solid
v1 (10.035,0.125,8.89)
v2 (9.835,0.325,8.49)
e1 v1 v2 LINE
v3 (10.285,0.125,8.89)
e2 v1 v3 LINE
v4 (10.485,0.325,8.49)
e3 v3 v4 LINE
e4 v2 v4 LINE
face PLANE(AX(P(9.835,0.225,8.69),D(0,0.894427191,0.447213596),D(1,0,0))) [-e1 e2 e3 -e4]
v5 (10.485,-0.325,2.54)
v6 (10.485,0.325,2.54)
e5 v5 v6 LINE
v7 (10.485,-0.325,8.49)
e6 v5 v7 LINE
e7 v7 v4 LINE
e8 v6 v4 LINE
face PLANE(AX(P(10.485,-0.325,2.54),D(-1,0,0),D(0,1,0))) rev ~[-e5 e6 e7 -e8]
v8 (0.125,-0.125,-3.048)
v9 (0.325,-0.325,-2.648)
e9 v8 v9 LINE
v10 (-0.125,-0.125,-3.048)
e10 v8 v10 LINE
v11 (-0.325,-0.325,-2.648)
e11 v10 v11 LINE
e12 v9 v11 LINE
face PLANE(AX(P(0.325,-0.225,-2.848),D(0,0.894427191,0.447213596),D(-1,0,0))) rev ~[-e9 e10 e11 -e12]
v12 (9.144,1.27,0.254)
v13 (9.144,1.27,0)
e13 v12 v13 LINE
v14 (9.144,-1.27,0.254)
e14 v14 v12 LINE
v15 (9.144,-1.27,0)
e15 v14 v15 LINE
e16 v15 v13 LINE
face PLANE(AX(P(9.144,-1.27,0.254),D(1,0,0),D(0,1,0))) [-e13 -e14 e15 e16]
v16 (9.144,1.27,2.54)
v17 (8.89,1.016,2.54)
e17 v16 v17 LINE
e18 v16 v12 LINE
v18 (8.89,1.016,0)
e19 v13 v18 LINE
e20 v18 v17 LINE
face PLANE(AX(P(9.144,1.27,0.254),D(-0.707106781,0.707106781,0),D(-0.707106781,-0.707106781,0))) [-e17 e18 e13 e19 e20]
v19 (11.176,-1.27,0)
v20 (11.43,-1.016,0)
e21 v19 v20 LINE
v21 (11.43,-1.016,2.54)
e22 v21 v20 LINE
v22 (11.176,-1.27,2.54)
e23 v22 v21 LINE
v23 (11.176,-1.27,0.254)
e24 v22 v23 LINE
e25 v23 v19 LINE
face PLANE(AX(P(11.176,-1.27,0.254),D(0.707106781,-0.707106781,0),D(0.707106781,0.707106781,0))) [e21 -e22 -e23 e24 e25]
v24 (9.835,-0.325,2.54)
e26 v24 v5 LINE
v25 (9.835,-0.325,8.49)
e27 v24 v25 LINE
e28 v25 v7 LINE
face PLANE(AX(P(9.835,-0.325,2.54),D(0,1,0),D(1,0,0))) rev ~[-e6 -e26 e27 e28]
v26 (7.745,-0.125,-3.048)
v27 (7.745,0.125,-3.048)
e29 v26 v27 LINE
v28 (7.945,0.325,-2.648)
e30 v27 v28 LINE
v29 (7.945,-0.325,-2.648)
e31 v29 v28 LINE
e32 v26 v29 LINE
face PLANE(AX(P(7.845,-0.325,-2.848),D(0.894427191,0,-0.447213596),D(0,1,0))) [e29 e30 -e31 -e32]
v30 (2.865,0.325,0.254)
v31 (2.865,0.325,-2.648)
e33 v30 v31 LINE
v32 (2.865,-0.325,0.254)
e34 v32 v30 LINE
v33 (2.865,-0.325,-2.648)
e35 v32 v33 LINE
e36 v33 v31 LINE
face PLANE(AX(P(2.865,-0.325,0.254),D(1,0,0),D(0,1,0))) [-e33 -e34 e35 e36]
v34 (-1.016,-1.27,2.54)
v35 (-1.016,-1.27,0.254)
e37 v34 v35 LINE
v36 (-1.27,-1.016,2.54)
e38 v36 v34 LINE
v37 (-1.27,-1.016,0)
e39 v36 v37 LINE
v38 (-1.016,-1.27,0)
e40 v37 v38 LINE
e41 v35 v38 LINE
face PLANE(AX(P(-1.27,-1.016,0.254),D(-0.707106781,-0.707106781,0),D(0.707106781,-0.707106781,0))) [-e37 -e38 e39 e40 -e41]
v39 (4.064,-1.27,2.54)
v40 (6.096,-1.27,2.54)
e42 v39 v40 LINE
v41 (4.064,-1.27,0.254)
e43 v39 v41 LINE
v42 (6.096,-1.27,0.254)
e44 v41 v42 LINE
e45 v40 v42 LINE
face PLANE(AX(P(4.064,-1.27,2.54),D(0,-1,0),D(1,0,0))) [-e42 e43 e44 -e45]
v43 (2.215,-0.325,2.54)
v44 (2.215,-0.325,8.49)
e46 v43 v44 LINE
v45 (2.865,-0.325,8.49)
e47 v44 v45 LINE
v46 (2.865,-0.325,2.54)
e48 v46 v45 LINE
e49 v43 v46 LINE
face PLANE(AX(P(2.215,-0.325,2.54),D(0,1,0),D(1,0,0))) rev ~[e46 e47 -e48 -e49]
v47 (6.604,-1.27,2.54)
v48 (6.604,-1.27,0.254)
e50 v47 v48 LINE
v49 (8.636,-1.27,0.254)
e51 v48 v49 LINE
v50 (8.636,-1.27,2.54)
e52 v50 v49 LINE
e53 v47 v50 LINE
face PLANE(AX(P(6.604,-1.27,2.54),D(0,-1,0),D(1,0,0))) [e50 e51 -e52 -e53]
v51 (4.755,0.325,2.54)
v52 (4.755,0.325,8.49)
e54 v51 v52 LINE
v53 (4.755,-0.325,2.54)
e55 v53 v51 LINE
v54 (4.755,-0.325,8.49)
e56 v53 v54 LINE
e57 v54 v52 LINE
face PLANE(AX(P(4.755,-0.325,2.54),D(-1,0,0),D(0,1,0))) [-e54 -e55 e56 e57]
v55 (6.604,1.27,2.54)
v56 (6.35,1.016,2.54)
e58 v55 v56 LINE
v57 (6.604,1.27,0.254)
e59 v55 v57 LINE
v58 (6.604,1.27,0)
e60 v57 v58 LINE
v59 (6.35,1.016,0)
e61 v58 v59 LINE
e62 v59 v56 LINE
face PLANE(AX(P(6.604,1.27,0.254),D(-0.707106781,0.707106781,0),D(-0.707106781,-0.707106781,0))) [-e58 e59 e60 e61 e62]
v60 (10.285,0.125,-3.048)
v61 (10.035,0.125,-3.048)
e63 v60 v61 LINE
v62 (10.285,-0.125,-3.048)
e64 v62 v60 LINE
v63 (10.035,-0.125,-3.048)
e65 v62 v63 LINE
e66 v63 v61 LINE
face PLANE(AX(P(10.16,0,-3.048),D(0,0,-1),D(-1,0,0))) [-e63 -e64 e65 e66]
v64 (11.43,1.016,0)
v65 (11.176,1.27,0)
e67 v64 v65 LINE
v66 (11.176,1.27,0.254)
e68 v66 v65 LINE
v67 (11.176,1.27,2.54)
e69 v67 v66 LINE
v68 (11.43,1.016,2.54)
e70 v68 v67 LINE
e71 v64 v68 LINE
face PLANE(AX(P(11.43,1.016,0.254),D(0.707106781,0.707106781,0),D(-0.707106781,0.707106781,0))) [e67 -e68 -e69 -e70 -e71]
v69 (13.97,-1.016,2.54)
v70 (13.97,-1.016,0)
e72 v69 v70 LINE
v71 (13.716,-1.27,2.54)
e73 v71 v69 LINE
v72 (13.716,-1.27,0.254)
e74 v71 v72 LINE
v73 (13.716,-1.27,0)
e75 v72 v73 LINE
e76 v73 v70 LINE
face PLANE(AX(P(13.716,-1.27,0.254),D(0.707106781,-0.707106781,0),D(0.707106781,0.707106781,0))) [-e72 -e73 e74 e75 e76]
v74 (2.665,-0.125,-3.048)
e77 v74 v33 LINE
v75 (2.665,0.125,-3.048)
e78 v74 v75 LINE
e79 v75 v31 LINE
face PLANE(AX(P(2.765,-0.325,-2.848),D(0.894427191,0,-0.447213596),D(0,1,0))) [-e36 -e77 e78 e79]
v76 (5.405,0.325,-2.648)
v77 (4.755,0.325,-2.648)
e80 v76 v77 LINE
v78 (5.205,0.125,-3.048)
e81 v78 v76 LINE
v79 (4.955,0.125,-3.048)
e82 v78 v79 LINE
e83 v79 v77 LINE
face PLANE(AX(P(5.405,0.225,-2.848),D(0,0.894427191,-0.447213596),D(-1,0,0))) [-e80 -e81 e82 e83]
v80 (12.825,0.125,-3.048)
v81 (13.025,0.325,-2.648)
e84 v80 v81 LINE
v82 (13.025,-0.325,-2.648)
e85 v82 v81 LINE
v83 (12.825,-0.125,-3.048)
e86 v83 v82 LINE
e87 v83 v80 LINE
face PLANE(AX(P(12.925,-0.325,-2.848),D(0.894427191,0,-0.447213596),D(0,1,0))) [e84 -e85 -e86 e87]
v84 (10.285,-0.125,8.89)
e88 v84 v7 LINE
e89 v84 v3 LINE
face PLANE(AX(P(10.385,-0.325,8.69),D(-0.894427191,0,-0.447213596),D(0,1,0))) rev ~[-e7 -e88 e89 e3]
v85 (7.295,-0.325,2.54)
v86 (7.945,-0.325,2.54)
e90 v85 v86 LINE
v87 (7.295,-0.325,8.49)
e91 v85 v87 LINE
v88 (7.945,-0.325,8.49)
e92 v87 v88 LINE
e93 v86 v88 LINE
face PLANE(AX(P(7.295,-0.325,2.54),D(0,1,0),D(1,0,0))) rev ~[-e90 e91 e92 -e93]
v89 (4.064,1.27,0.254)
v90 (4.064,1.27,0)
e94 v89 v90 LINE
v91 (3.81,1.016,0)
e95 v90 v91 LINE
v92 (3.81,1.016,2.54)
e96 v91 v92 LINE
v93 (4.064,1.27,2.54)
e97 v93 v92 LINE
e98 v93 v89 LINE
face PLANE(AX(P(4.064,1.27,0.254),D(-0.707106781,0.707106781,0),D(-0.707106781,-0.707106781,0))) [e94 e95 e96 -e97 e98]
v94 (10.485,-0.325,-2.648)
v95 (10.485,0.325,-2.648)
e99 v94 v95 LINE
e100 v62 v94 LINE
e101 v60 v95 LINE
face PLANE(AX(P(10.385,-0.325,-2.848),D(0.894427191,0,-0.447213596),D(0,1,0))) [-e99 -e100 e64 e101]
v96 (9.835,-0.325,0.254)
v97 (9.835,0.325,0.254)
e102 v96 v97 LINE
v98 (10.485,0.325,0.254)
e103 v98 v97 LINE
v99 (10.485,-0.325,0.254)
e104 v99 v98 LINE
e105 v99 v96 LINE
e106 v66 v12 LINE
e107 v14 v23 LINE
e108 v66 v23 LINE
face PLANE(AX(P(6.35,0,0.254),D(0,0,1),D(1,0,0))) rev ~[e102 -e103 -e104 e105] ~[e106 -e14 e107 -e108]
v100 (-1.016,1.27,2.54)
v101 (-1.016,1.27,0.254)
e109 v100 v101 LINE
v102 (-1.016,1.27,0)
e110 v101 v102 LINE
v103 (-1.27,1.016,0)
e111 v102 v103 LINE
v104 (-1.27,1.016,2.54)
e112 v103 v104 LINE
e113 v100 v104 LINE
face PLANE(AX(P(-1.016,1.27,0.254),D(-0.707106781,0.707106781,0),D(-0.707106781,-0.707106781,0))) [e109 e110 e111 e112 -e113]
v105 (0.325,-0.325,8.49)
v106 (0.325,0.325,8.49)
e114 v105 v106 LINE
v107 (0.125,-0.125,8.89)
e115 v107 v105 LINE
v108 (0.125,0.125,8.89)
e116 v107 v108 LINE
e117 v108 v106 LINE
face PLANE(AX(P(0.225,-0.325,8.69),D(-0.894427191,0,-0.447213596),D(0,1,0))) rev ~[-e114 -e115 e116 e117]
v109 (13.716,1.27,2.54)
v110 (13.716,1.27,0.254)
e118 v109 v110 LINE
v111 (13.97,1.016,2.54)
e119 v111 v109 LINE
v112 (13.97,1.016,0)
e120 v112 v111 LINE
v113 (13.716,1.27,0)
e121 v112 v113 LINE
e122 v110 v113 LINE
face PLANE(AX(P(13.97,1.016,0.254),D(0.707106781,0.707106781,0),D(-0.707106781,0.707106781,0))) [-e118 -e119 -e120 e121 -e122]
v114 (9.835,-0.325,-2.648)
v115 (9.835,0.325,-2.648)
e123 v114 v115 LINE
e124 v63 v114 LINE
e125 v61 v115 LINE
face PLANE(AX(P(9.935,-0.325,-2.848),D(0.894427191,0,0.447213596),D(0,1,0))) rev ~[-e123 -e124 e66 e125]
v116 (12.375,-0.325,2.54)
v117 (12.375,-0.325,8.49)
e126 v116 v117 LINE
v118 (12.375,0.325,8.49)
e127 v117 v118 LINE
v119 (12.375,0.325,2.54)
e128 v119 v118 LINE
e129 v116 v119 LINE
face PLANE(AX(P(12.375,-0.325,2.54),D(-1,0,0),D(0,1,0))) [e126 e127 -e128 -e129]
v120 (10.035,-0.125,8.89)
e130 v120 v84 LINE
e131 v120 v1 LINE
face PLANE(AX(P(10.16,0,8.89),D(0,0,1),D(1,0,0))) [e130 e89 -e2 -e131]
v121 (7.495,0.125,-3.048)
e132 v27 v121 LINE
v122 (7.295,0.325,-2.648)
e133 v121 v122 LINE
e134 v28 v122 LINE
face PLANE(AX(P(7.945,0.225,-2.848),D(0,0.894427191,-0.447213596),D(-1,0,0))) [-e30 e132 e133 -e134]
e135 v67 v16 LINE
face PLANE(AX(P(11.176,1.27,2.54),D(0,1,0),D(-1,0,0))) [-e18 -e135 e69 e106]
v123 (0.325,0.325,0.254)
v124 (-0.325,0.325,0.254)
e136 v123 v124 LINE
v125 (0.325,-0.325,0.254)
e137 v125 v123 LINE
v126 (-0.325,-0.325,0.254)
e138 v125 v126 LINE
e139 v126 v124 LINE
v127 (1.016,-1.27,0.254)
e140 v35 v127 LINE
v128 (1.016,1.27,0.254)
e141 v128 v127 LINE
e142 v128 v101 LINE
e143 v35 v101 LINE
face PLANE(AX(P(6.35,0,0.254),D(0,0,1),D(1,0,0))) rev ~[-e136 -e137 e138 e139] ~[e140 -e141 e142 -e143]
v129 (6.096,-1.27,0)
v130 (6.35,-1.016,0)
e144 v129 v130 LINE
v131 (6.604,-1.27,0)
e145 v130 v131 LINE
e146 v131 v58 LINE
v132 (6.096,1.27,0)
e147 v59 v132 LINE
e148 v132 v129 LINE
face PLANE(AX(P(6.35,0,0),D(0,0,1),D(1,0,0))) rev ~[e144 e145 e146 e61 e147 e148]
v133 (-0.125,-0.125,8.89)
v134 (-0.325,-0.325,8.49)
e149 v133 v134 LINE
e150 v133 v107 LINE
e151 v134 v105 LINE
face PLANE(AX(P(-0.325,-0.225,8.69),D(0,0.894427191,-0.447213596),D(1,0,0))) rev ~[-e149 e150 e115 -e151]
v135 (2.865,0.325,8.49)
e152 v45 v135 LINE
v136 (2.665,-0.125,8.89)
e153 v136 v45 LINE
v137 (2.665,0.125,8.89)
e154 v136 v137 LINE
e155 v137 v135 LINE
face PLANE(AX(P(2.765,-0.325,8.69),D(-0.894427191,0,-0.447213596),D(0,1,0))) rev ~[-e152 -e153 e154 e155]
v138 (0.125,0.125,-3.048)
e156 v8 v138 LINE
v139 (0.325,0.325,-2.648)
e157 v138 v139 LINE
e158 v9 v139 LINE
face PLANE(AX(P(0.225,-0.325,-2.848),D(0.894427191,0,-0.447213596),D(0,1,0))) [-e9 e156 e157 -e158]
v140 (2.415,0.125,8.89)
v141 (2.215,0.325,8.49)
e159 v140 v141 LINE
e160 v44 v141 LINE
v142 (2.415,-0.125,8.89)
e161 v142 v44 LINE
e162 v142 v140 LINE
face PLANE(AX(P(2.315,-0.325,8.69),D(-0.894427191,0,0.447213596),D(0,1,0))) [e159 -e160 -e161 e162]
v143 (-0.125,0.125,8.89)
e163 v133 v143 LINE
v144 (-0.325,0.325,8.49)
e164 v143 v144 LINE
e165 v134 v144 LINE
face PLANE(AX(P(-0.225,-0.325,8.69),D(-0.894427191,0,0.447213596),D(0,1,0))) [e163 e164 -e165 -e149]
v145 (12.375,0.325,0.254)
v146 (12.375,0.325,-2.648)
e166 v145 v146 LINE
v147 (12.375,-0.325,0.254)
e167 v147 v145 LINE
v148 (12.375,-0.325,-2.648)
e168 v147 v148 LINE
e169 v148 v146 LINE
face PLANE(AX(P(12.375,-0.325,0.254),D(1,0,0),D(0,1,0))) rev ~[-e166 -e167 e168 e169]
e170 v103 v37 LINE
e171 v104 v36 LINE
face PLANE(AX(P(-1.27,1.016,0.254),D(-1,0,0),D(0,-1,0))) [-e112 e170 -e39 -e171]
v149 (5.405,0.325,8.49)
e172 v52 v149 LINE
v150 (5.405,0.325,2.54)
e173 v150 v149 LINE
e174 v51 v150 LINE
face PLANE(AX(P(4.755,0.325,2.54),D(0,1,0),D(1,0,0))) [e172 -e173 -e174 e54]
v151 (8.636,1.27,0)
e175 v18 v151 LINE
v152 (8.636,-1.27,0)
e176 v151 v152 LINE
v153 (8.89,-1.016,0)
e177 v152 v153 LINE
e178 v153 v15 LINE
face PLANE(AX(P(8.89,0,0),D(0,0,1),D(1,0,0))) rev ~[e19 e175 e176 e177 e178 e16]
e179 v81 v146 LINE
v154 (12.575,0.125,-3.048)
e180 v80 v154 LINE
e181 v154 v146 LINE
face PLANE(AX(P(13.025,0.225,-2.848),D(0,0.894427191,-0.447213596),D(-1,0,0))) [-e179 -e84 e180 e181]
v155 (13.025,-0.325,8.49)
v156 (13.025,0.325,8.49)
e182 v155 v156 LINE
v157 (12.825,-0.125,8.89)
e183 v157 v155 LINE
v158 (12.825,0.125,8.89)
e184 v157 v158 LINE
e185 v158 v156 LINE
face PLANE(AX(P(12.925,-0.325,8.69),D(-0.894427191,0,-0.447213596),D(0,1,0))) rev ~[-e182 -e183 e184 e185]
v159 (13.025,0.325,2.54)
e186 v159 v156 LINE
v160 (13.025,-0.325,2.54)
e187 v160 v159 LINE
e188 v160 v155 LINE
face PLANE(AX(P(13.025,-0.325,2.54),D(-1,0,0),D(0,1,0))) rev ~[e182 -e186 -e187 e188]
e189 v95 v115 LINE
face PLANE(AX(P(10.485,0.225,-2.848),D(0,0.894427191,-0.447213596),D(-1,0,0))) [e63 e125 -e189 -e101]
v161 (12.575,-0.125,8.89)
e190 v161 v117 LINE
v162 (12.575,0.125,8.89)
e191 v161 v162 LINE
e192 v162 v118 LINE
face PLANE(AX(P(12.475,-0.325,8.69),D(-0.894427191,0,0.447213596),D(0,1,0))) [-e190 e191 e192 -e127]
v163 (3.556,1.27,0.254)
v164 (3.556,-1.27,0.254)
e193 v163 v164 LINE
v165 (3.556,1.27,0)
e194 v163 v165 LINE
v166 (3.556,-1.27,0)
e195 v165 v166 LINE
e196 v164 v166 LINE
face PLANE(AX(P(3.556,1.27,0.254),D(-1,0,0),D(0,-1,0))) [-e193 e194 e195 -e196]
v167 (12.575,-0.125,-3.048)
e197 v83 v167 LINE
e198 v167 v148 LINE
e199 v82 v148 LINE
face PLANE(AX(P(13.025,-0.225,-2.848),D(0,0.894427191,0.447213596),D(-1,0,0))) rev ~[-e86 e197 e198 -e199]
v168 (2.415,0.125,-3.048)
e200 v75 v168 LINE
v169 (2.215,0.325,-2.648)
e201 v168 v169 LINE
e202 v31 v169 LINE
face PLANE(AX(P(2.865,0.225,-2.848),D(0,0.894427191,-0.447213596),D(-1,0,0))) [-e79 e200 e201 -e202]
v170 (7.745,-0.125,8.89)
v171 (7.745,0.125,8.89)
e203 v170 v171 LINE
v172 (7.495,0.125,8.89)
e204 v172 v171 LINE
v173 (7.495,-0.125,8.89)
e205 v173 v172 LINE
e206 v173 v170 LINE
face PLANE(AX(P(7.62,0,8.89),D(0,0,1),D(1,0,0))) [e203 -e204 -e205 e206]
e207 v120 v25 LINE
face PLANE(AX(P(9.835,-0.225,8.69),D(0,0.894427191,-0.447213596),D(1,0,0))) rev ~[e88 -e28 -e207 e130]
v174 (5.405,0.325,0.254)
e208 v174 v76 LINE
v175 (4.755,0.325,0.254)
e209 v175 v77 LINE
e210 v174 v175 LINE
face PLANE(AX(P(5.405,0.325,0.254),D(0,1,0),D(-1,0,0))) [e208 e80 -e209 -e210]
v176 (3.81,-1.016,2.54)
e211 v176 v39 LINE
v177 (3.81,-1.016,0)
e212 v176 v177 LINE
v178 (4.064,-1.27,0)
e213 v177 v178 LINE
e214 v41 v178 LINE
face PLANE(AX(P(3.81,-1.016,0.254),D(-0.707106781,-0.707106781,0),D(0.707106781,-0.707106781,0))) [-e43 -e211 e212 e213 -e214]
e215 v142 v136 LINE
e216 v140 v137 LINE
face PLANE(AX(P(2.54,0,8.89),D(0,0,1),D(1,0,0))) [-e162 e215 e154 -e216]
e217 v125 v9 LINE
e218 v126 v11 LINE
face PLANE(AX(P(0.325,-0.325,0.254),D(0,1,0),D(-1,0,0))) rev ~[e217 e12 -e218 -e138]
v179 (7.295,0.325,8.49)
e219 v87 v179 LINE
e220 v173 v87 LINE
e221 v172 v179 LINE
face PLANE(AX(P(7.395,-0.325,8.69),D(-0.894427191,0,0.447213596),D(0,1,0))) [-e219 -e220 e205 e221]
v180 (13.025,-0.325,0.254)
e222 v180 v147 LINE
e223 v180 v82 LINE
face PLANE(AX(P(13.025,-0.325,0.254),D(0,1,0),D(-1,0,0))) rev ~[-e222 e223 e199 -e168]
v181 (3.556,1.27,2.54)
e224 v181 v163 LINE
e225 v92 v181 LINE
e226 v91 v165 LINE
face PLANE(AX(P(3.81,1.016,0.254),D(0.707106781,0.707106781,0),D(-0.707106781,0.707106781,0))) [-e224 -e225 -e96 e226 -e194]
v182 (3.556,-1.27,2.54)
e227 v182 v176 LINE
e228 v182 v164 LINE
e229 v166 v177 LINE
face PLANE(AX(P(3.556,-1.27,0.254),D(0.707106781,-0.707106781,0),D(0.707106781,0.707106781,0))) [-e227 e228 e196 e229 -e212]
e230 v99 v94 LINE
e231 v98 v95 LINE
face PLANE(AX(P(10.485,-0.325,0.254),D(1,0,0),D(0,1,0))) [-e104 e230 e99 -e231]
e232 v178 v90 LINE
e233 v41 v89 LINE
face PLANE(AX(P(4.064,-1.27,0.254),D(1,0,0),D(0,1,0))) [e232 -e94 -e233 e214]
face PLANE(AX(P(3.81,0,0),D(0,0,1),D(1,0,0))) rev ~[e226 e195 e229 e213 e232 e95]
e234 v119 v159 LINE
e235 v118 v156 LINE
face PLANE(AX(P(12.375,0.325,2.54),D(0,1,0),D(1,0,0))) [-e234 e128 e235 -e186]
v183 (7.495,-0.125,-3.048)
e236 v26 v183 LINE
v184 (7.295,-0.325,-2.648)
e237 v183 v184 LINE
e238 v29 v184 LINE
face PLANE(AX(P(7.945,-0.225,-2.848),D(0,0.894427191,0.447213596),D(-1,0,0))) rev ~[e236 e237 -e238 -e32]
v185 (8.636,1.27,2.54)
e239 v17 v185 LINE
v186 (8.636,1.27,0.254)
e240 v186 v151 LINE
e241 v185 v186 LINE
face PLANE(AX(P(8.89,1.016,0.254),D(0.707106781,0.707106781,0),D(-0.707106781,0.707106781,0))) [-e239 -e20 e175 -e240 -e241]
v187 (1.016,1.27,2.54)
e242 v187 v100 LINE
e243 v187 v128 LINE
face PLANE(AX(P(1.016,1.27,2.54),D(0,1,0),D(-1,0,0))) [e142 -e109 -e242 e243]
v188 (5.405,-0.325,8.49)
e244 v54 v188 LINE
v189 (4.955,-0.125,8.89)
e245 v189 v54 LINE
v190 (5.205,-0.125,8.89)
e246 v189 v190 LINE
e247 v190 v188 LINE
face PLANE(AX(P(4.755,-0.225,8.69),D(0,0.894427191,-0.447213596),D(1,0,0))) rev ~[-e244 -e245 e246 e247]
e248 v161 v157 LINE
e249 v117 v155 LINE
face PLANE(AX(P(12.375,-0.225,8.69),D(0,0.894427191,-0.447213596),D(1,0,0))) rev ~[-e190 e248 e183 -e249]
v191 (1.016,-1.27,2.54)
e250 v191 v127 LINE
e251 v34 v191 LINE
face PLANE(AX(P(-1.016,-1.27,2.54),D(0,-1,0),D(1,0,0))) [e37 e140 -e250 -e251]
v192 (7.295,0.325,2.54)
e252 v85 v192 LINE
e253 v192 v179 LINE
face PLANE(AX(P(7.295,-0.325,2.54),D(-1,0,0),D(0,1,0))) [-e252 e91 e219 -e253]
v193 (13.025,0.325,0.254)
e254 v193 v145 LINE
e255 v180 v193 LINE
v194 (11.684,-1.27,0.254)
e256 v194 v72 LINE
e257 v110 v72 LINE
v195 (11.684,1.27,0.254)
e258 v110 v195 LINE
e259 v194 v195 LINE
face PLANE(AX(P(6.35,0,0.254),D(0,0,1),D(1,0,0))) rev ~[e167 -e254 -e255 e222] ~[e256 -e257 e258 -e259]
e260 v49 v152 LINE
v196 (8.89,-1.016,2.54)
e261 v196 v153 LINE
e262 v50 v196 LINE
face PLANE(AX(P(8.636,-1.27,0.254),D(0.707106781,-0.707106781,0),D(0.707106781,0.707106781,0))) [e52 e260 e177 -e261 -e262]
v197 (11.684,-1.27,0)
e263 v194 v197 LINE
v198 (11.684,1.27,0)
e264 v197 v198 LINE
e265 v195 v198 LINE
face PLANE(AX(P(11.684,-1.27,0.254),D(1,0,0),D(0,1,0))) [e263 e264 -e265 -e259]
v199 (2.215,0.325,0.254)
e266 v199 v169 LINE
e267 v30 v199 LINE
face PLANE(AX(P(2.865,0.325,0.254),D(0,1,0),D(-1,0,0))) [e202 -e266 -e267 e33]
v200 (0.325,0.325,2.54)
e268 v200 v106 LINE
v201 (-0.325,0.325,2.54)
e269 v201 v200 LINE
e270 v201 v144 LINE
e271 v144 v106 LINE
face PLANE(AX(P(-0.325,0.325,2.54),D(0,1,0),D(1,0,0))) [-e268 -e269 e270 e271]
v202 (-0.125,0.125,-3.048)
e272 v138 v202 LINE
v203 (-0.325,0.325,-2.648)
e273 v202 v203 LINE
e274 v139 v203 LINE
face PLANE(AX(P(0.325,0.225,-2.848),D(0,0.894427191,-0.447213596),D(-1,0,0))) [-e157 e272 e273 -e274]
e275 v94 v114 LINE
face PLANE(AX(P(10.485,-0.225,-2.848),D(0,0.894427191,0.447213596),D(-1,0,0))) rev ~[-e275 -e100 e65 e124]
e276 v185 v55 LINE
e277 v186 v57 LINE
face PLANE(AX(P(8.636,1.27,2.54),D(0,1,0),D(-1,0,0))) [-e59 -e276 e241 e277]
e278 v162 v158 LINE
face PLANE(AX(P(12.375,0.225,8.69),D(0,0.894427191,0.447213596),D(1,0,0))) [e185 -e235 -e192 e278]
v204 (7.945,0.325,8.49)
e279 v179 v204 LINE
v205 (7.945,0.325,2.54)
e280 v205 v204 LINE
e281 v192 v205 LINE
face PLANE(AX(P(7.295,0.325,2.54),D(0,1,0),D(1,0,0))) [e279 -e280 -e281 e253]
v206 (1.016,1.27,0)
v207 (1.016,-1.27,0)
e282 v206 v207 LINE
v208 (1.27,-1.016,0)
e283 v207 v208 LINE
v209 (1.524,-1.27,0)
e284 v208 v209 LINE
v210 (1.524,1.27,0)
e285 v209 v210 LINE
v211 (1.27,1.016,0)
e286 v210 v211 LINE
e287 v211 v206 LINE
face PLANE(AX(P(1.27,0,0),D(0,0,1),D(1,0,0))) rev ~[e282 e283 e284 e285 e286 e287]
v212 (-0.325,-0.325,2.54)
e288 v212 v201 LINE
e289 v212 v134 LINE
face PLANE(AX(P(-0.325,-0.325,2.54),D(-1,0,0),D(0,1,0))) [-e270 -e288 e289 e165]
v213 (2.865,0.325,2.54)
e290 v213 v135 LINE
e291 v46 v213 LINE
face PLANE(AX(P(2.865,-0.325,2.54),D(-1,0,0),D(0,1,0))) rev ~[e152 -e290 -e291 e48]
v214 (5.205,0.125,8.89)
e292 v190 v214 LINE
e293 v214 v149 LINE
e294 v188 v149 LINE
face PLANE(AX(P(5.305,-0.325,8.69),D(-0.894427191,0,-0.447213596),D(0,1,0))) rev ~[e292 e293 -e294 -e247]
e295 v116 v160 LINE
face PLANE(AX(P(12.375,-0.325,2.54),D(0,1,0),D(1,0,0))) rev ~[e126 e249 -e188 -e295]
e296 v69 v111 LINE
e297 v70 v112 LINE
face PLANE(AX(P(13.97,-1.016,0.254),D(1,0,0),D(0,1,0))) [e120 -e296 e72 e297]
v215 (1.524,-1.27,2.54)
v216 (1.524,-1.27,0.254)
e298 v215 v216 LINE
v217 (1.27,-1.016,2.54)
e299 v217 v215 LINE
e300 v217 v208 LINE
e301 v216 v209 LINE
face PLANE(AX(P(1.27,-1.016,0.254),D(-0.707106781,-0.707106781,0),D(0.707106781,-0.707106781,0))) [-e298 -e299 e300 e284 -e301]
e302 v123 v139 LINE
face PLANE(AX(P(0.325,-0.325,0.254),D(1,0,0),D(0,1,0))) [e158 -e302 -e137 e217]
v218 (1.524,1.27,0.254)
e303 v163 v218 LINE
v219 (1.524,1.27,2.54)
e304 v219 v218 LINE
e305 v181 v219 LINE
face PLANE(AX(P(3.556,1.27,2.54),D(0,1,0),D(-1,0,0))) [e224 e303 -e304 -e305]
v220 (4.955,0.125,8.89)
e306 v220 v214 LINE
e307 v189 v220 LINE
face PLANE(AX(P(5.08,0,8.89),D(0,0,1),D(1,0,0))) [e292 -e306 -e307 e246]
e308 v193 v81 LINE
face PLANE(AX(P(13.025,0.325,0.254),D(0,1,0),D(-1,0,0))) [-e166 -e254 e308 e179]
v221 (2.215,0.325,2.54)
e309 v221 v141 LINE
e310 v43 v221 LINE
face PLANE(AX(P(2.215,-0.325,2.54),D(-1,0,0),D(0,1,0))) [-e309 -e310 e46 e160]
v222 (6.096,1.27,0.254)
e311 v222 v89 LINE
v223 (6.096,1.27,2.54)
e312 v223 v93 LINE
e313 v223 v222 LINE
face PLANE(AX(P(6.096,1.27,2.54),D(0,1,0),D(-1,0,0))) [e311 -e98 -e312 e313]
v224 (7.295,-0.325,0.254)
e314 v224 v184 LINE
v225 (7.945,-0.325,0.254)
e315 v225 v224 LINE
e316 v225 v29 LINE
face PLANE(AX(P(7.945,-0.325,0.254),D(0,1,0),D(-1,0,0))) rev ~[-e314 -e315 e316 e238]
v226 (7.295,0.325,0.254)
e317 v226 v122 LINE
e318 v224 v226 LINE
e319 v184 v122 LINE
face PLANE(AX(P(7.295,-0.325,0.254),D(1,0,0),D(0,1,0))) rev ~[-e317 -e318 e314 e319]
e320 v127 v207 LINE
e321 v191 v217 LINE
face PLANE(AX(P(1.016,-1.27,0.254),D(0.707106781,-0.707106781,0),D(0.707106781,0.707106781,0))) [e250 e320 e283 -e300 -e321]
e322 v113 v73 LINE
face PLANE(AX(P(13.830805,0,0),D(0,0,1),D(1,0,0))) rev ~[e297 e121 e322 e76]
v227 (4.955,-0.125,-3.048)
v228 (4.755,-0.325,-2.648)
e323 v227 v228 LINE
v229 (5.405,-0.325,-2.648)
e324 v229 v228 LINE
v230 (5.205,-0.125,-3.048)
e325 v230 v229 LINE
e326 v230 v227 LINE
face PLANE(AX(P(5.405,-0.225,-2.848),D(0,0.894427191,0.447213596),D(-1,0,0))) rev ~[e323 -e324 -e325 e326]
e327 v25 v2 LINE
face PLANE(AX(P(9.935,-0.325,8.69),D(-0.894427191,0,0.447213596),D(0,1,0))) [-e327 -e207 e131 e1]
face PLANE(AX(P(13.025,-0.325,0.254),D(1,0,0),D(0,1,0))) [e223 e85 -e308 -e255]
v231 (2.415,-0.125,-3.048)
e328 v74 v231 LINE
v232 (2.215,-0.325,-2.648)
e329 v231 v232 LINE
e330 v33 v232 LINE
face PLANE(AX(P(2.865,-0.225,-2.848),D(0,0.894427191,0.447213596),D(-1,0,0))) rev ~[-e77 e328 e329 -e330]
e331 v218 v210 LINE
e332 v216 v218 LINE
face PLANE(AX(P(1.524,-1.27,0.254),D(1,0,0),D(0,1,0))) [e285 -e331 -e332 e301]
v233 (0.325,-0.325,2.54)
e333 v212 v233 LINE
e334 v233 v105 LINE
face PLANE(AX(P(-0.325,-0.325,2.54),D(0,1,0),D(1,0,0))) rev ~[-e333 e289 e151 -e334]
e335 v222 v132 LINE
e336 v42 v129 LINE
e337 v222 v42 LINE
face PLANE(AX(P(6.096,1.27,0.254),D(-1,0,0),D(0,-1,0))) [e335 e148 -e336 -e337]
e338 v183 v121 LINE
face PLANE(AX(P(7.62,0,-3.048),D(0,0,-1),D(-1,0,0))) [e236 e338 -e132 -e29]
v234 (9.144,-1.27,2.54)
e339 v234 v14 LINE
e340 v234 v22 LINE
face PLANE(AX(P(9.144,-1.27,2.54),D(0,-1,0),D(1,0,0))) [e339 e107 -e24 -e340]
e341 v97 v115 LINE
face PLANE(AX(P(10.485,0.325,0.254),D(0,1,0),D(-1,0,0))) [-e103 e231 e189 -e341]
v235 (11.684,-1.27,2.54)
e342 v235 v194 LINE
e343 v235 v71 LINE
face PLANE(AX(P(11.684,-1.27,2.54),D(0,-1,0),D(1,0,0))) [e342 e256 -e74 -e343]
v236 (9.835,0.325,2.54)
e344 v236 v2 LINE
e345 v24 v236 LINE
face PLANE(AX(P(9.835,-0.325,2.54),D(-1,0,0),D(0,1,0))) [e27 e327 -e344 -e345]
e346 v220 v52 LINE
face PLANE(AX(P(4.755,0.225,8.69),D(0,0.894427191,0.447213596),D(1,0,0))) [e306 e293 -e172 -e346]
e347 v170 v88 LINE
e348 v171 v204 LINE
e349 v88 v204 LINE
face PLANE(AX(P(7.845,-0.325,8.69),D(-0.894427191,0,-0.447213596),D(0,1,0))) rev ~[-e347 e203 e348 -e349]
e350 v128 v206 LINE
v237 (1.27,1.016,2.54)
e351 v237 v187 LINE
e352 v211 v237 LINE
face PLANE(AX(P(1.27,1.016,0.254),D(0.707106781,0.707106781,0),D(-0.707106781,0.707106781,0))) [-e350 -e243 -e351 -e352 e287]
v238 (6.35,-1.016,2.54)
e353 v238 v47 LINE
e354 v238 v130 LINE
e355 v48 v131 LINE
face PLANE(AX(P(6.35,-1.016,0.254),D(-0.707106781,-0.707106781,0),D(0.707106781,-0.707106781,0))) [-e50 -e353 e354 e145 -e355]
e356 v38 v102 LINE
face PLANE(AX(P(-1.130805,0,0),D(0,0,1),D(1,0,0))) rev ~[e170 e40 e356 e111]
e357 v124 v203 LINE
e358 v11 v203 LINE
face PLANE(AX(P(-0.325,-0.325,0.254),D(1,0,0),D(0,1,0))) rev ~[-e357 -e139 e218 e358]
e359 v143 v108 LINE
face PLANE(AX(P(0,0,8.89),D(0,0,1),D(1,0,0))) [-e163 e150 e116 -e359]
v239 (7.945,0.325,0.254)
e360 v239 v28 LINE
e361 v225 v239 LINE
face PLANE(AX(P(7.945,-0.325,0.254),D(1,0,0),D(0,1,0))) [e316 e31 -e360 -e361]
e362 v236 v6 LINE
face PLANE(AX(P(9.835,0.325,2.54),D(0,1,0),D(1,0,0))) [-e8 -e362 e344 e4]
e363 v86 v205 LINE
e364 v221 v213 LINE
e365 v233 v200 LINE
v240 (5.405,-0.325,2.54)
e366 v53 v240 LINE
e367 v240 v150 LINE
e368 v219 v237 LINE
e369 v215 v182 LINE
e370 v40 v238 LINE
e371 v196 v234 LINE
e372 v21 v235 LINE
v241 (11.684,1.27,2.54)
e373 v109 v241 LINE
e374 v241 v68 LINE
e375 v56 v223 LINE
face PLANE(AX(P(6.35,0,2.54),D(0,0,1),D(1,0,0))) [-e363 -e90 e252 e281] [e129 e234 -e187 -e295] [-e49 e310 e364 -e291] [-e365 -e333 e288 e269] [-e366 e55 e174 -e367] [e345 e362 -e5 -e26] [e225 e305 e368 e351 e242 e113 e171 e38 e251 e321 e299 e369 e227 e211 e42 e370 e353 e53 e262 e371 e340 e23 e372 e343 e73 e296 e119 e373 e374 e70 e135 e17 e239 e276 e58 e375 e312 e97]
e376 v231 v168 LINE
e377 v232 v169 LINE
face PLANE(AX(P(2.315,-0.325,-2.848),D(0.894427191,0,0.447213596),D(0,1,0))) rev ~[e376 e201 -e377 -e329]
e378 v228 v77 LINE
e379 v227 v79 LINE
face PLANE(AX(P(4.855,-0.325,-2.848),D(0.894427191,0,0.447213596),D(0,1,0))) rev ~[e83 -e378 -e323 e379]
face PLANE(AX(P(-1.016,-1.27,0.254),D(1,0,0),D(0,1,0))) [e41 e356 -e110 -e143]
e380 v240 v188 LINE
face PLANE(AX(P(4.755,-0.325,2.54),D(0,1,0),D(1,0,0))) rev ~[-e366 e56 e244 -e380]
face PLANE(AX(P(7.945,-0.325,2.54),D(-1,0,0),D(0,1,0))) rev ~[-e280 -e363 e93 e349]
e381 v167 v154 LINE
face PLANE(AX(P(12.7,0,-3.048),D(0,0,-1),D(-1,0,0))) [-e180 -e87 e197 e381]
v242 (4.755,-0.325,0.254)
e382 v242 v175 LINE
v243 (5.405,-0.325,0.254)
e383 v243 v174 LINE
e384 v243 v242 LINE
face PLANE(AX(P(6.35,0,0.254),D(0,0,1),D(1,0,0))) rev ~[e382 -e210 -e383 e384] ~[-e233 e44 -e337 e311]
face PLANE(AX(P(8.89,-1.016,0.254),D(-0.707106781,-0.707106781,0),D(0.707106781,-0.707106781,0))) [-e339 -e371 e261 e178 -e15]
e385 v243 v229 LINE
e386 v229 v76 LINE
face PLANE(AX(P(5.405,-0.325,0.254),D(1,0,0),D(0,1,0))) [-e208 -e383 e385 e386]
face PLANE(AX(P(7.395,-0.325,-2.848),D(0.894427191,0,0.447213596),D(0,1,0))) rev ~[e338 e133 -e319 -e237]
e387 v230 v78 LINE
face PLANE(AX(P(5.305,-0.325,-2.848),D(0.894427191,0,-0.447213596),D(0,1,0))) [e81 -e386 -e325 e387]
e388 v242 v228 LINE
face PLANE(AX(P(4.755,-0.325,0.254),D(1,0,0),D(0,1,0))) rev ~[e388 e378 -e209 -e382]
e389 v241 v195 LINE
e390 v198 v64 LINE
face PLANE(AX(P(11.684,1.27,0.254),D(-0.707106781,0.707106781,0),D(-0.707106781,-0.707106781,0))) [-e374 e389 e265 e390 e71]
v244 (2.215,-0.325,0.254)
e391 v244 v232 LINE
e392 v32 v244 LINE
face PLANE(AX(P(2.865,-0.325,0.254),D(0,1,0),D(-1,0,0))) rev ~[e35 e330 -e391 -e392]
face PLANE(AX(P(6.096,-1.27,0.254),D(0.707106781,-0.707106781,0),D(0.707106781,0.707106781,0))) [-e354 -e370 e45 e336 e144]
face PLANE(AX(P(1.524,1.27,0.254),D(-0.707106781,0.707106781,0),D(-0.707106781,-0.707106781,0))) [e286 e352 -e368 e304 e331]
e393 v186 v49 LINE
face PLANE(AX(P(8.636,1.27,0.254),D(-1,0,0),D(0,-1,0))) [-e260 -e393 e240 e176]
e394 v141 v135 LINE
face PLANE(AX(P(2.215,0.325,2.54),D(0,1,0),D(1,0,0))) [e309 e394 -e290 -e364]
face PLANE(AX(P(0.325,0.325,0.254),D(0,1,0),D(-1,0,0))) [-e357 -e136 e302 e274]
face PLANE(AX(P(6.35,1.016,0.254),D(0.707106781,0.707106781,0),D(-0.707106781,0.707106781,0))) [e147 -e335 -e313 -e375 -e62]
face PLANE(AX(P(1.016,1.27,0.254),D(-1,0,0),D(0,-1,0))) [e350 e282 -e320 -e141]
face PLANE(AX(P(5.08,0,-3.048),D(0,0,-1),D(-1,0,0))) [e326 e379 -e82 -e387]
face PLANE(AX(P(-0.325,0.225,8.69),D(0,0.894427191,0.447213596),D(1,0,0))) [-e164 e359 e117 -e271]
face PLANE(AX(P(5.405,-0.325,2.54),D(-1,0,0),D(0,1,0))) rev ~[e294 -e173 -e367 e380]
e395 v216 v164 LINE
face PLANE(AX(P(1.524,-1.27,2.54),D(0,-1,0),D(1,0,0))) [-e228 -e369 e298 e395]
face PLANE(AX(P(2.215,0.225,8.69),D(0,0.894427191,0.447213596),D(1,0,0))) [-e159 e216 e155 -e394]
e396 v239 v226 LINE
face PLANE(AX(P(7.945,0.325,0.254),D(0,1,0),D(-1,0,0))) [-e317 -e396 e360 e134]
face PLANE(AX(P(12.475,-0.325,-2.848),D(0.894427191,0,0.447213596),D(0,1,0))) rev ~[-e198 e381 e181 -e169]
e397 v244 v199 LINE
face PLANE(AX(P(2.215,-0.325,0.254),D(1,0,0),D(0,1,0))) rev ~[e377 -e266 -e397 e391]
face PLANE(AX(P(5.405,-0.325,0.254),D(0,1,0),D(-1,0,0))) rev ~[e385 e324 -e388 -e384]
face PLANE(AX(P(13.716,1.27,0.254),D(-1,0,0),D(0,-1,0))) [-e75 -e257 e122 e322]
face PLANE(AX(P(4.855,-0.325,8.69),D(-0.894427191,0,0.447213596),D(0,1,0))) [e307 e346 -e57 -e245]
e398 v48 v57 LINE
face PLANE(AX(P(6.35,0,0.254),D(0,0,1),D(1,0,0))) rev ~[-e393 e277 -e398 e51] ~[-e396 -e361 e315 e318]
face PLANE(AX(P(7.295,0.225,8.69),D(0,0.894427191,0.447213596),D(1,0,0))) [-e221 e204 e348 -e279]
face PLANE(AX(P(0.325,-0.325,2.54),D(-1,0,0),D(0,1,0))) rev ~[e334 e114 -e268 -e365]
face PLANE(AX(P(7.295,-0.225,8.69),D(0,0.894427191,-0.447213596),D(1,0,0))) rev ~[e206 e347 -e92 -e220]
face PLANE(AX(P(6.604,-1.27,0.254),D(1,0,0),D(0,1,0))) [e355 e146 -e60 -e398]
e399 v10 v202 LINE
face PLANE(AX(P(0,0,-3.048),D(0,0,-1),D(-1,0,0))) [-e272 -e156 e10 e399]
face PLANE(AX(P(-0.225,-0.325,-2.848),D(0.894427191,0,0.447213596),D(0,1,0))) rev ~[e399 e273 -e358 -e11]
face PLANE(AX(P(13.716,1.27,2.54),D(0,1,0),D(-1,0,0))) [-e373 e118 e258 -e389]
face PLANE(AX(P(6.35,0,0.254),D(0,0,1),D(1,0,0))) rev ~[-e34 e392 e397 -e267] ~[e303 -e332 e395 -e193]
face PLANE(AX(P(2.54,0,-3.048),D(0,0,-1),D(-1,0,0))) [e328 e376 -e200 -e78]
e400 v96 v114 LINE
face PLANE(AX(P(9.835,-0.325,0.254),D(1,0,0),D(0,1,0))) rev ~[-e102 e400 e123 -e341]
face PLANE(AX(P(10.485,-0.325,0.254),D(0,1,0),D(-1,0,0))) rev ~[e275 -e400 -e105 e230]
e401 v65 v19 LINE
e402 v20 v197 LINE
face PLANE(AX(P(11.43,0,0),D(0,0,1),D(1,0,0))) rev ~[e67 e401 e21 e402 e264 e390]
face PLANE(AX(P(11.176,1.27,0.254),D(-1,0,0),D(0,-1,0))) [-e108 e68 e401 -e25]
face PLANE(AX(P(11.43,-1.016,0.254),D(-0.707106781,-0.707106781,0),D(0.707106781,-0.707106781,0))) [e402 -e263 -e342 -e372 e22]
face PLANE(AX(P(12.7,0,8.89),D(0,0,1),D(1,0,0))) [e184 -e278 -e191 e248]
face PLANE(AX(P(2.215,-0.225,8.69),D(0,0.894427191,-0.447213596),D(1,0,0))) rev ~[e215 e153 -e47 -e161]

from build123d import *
from OCP.BRepFilletAPI import BRepFilletAPI_MakeChamfer

# Parameters (mm, degrees)
BOSS_EXTRUDE1_DEPTH  = 2.286
BOSS_EXTRUDE2_DEPTH  = 0.254
BOSS_EXTRUDE3_DEPTH  = 0.254
BOSS_EXTRUDE4_DEPTH  = 0.254
BOSS_EXTRUDE5_DEPTH  = 0.254
BOSS_EXTRUDE6_DEPTH  = 0.254
BOSS_EXTRUDE7_DEPTH  = 0.254
BOSS_EXTRUDE8_DEPTH  = 0.254
SKETCH9_W            = 0.65
SKETCH9_H            = 0.65
BOSS_EXTRUDE9_DEPTH  = 3.302
SKETCH10_W           = 0.65
SKETCH10_H           = 0.65
BOSS_EXTRUDE10_DEPTH = 6.35
SKETCH11_W           = 0.65
SKETCH11_H           = 0.65
BOSS_EXTRUDE11_DEPTH = 3.302
SKETCH12_W           = 0.65
SKETCH12_H           = 0.65
BOSS_EXTRUDE12_DEPTH = 6.35
SKETCH13_W           = 0.65
SKETCH13_H           = 0.65
BOSS_EXTRUDE13_DEPTH = 3.302
SKETCH14_W           = 0.65
SKETCH14_H           = 0.65
BOSS_EXTRUDE14_DEPTH = 6.35
SKETCH15_W           = 0.65
SKETCH15_H           = 0.65
BOSS_EXTRUDE15_DEPTH = 3.302
SKETCH16_W           = 0.65
SKETCH16_H           = 0.65
BOSS_EXTRUDE16_DEPTH = 6.35
SKETCH17_W           = 0.65
SKETCH17_H           = 0.65
BOSS_EXTRUDE17_DEPTH = 3.302
SKETCH18_W           = 0.65
SKETCH18_H           = 0.65
BOSS_EXTRUDE18_DEPTH = 6.35
SKETCH19_W           = 0.65
SKETCH19_H           = 0.65
BOSS_EXTRUDE19_DEPTH = 3.302
SKETCH20_W           = 0.65
SKETCH20_H           = 0.65
BOSS_EXTRUDE20_DEPTH = 6.35
CHAMFER1_SIZE        = 0.2
CHAMFER1_SIZE2       = 0.4


with BuildPart() as part:
    # Sketch1 → Boss-Extrude1 (new body)
    with BuildSketch(Plane.XY.offset(2.54)):
        Polygon((13.97, -1.016), (13.97, 1.016), (13.716, 1.27), (11.684, 1.27), (11.43, 1.016), (11.176, 1.27), (9.144, 1.27), (8.89, 1.016), (8.636, 1.27), (6.604, 1.27), (6.35, 1.016), (6.096, 1.27), (4.064, 1.27), (3.81, 1.016), (3.556, 1.27), (1.524, 1.27), (1.27, 1.016), (1.016, 1.27), (-1.016, 1.27), (-1.27, 1.016), (-1.27, -1.016), (-1.016, -1.27), (1.016, -1.27), (1.27, -1.016), (1.524, -1.27), (3.556, -1.27), (3.81, -1.016), (4.064, -1.27), (6.096, -1.27), (6.35, -1.016), (6.604, -1.27), (8.636, -1.27), (8.89, -1.016), (9.144, -1.27), (11.176, -1.27), (11.43, -1.016), (11.684, -1.27), (13.716, -1.27), align=None)
    extrude(amount=-BOSS_EXTRUDE1_DEPTH)

    # Sketch2 → Boss-Extrude2 (add)
    with BuildSketch(Plane(origin=(0, 0, 0.254), x_dir=(-1, 0, 0), z_dir=(0, 0, -1))):
        Polygon((-6.604, -1.27), (-6.604, 1.27), (-6.35, 1.016), (-6.096, 1.27), (-6.096, -1.27), (-6.35, -1.016), align=None)
    extrude(amount=BOSS_EXTRUDE2_DEPTH)

    # Sketch3 → Boss-Extrude3 (add)
    with BuildSketch(Plane(origin=(0, 0, 0.254), x_dir=(-1, 0, 0), z_dir=(0, 0, -1))):
        Polygon((-9.144, -1.27), (-9.144, 1.27), (-8.89, 1.016), (-8.636, 1.27), (-8.636, -1.27), (-8.89, -1.016), align=None)
    extrude(amount=BOSS_EXTRUDE3_DEPTH)

    # Sketch4 → Boss-Extrude4 (add)
    with BuildSketch(Plane(origin=(0, 0, 0.254), x_dir=(-1, 0, 0), z_dir=(0, 0, -1))):
        Polygon((-11.684, -1.27), (-11.684, 1.27), (-11.43, 1.016), (-11.176, 1.27), (-11.176, -1.27), (-11.43, -1.016), align=None)
    extrude(amount=BOSS_EXTRUDE4_DEPTH)

    # Sketch5 → Boss-Extrude5 (add)
    with BuildSketch(Plane(origin=(0, 0, 0.254), x_dir=(-1, 0, 0), z_dir=(0, 0, -1))):
        Polygon((-4.064, -1.27), (-4.064, 1.27), (-3.81, 1.016), (-3.556, 1.27), (-3.556, -1.27), (-3.81, -1.016), align=None)
    extrude(amount=BOSS_EXTRUDE5_DEPTH)

    # Sketch6 → Boss-Extrude6 (add)
    with BuildSketch(Plane(origin=(0, 0, 0.254), x_dir=(-1, 0, 0), z_dir=(0, 0, -1))):
        Polygon((-1.524, -1.27), (-1.524, 1.27), (-1.27, 1.016), (-1.016, 1.27), (-1.016, -1.27), (-1.27, -1.016), align=None)
    extrude(amount=BOSS_EXTRUDE6_DEPTH)

    # Sketch7 → Boss-Extrude7 (add)
    with BuildSketch(Plane(origin=(0, 0, 0.254), x_dir=(-1, 0, 0), z_dir=(0, 0, -1))):
        Polygon((1.016, -1.27), (1.016, 1.27), (1.27, 1.016), (1.27, -1.016), align=None)
    extrude(amount=BOSS_EXTRUDE7_DEPTH)

    # Sketch8 → Boss-Extrude8 (add)
    with BuildSketch(Plane(origin=(0, 0, 0.254), x_dir=(-1, 0, 0), z_dir=(0, 0, -1))):
        Polygon((-13.97, -1.016), (-13.97, 1.016), (-13.716, 1.27), (-13.716, -1.27), align=None)
    extrude(amount=BOSS_EXTRUDE8_DEPTH)

    # Sketch9 → Boss-Extrude9 (add)
    with BuildSketch(Plane(origin=(0, 0, 0.254), x_dir=(-1, 0, 0), z_dir=(0, 0, -1))):
        Rectangle(SKETCH9_W, SKETCH9_H)
    extrude(amount=BOSS_EXTRUDE9_DEPTH)

    # Sketch10 → Boss-Extrude10 (add)
    with BuildSketch(Plane.XY.offset(2.54)):
        Rectangle(SKETCH10_W, SKETCH10_H)
    extrude(amount=BOSS_EXTRUDE10_DEPTH)

    # Sketch11 → Boss-Extrude11 (add)
    with BuildSketch(Plane(origin=(0, 0, 0.254), x_dir=(-1, 0, 0), z_dir=(0, 0, -1))):
        with Locations((-12.7, 0)):
            Rectangle(SKETCH11_W, SKETCH11_H)
    extrude(amount=BOSS_EXTRUDE11_DEPTH)

    # Sketch12 → Boss-Extrude12 (add)
    with BuildSketch(Plane.XY.offset(2.54)):
        with Locations((12.7, 0)):
            Rectangle(SKETCH12_W, SKETCH12_H)
    extrude(amount=BOSS_EXTRUDE12_DEPTH)

    # Sketch13 → Boss-Extrude13 (add)
    with BuildSketch(Plane(origin=(0, 0, 0.254), x_dir=(-1, 0, 0), z_dir=(0, 0, -1))):
        with Locations((-10.16, 0)):
            Rectangle(SKETCH13_W, SKETCH13_H)
    extrude(amount=BOSS_EXTRUDE13_DEPTH)

    # Sketch14 → Boss-Extrude14 (add)
    with BuildSketch(Plane.XY.offset(2.54)):
        with Locations((10.16, 0)):
            Rectangle(SKETCH14_W, SKETCH14_H)
    extrude(amount=BOSS_EXTRUDE14_DEPTH)

    # Sketch15 → Boss-Extrude15 (add)
    with BuildSketch(Plane(origin=(0, 0, 0.254), x_dir=(-1, 0, 0), z_dir=(0, 0, -1))):
        with Locations((-7.62, 0)):
            Rectangle(SKETCH15_W, SKETCH15_H)
    extrude(amount=BOSS_EXTRUDE15_DEPTH)

    # Sketch16 → Boss-Extrude16 (add)
    with BuildSketch(Plane.XY.offset(2.54)):
        with Locations((7.62, 0)):
            Rectangle(SKETCH16_W, SKETCH16_H)
    extrude(amount=BOSS_EXTRUDE16_DEPTH)

    # Sketch17 → Boss-Extrude17 (add)
    with BuildSketch(Plane(origin=(0, 0, 0.254), x_dir=(-1, 0, 0), z_dir=(0, 0, -1))):
        with Locations((-5.08, 0)):
            Rectangle(SKETCH17_W, SKETCH17_H)
    extrude(amount=BOSS_EXTRUDE17_DEPTH)

    # Sketch18 → Boss-Extrude18 (add)
    with BuildSketch(Plane.XY.offset(2.54)):
        with Locations((5.08, 0)):
            Rectangle(SKETCH18_W, SKETCH18_H)
    extrude(amount=BOSS_EXTRUDE18_DEPTH)

    # Sketch19 → Boss-Extrude19 (add)
    with BuildSketch(Plane(origin=(0, 0, 0.254), x_dir=(-1, 0, 0), z_dir=(0, 0, -1))):
        with Locations((-2.54, 0)):
            Rectangle(SKETCH19_W, SKETCH19_H)
    extrude(amount=BOSS_EXTRUDE19_DEPTH)

    # Sketch20 → Boss-Extrude20 (add)
    with BuildSketch(Plane.XY.offset(2.54)):
        with Locations((2.54, 0)):
            Rectangle(SKETCH20_W, SKETCH20_H)
    extrude(amount=BOSS_EXTRUDE20_DEPTH)

    # Chamfer1: one chamfer whose edges measure the first distance from different faces: ONE call of the kernel's chamfer builder (chamfer() names one face for all edges)
    chamfer1_edges_1 = [part.edges().sort_by_distance(p)[0] for p in [
        (0, 0.325, -3.048),
        (0.325, 0, -3.048),
        (0, -0.325, -3.048),
        (-0.325, 0, -3.048),
    ]]
    chamfer1_side_1 = [part.faces().sort_by_distance(p)[0] for p in [
        (0, 0, -3.048),
    ]]
    chamfer1_edges_2 = [part.edges().sort_by_distance(p)[0] for p in [
        (0, -0.325, 8.89),
        (0.325, 0, 8.89),
        (0, 0.325, 8.89),
        (-0.325, 0, 8.89),
    ]]
    chamfer1_side_2 = [part.faces().sort_by_distance(p)[0] for p in [
        (0, 0, 8.89),
    ]]
    chamfer1_edges_3 = [part.edges().sort_by_distance(p)[0] for p in [
        (12.375, 0, -3.048),
        (12.7, 0.325, -3.048),
        (13.025, 0, -3.048),
        (12.7, -0.325, -3.048),
    ]]
    chamfer1_side_3 = [part.faces().sort_by_distance(p)[0] for p in [
        (12.7, 0, -3.048),
    ]]
    chamfer1_edges_4 = [part.edges().sort_by_distance(p)[0] for p in [
        (12.7, -0.325, 8.89),
        (13.025, 0, 8.89),
        (12.7, 0.325, 8.89),
        (12.375, 0, 8.89),
    ]]
    chamfer1_side_4 = [part.faces().sort_by_distance(p)[0] for p in [
        (12.7, 0, 8.89),
    ]]
    chamfer1_edges_5 = [part.edges().sort_by_distance(p)[0] for p in [
        (9.835, 0, -3.048),
        (10.16, 0.325, -3.048),
        (10.485, 0, -3.048),
        (10.16, -0.325, -3.048),
    ]]
    chamfer1_side_5 = [part.faces().sort_by_distance(p)[0] for p in [
        (10.16, 0, -3.048),
    ]]
    chamfer1_edges_6 = [part.edges().sort_by_distance(p)[0] for p in [
        (10.16, -0.325, 8.89),
        (10.485, 0, 8.89),
        (10.16, 0.325, 8.89),
        (9.835, 0, 8.89),
    ]]
    chamfer1_side_6 = [part.faces().sort_by_distance(p)[0] for p in [
        (10.16, 0, 8.89),
    ]]
    chamfer1_edges_7 = [part.edges().sort_by_distance(p)[0] for p in [
        (7.945, 0, -3.048),
        (7.62, -0.325, -3.048),
        (7.295, 0, -3.048),
        (7.62, 0.325, -3.048),
    ]]
    chamfer1_side_7 = [part.faces().sort_by_distance(p)[0] for p in [
        (7.62, 0, -3.048),
    ]]
    chamfer1_edges_8 = [part.edges().sort_by_distance(p)[0] for p in [
        (7.62, 0.325, 8.89),
        (7.295, 0, 8.89),
        (7.62, -0.325, 8.89),
        (7.945, 0, 8.89),
    ]]
    chamfer1_side_8 = [part.faces().sort_by_distance(p)[0] for p in [
        (7.62, 0, 8.89),
    ]]
    chamfer1_edges_9 = [part.edges().sort_by_distance(p)[0] for p in [
        (5.405, 0, -3.048),
        (5.08, -0.325, -3.048),
        (4.755, 0, -3.048),
        (5.08, 0.325, -3.048),
    ]]
    chamfer1_side_9 = [part.faces().sort_by_distance(p)[0] for p in [
        (5.08, 0, -3.048),
    ]]
    chamfer1_edges_10 = [part.edges().sort_by_distance(p)[0] for p in [
        (5.08, 0.325, 8.89),
        (4.755, 0, 8.89),
        (5.08, -0.325, 8.89),
        (5.405, 0, 8.89),
    ]]
    chamfer1_side_10 = [part.faces().sort_by_distance(p)[0] for p in [
        (5.08, 0, 8.89),
    ]]
    chamfer1_edges_11 = [part.edges().sort_by_distance(p)[0] for p in [
        (2.865, 0, -3.048),
        (2.54, -0.325, -3.048),
        (2.215, 0, -3.048),
        (2.54, 0.325, -3.048),
    ]]
    chamfer1_side_11 = [part.faces().sort_by_distance(p)[0] for p in [
        (2.54, 0, -3.048),
    ]]
    chamfer1_edges_12 = [part.edges().sort_by_distance(p)[0] for p in [
        (2.54, 0.325, 8.89),
        (2.215, 0, 8.89),
        (2.54, -0.325, 8.89),
        (2.865, 0, 8.89),
    ]]
    chamfer1_side_12 = [part.faces().sort_by_distance(p)[0] for p in [
        (2.54, 0, 8.89),
    ]]
    chamfer1 = BRepFilletAPI_MakeChamfer(part.part.solid().wrapped)
    for e in chamfer1_edges_1:
        chamfer1.Add(CHAMFER1_SIZE, CHAMFER1_SIZE2, e.wrapped, chamfer1_side_1[0].wrapped)  # the first distance lies on this face
    for e in chamfer1_edges_2:
        chamfer1.Add(CHAMFER1_SIZE, CHAMFER1_SIZE2, e.wrapped, chamfer1_side_2[0].wrapped)  # the first distance lies on this face
    for e in chamfer1_edges_3:
        chamfer1.Add(CHAMFER1_SIZE, CHAMFER1_SIZE2, e.wrapped, chamfer1_side_3[0].wrapped)  # the first distance lies on this face
    for e in chamfer1_edges_4:
        chamfer1.Add(CHAMFER1_SIZE, CHAMFER1_SIZE2, e.wrapped, chamfer1_side_4[0].wrapped)  # the first distance lies on this face
    for e in chamfer1_edges_5:
        chamfer1.Add(CHAMFER1_SIZE, CHAMFER1_SIZE2, e.wrapped, chamfer1_side_5[0].wrapped)  # the first distance lies on this face
    for e in chamfer1_edges_6:
        chamfer1.Add(CHAMFER1_SIZE, CHAMFER1_SIZE2, e.wrapped, chamfer1_side_6[0].wrapped)  # the first distance lies on this face
    for e in chamfer1_edges_7:
        chamfer1.Add(CHAMFER1_SIZE, CHAMFER1_SIZE2, e.wrapped, chamfer1_side_7[0].wrapped)  # the first distance lies on this face
    for e in chamfer1_edges_8:
        chamfer1.Add(CHAMFER1_SIZE, CHAMFER1_SIZE2, e.wrapped, chamfer1_side_8[0].wrapped)  # the first distance lies on this face
    for e in chamfer1_edges_9:
        chamfer1.Add(CHAMFER1_SIZE, CHAMFER1_SIZE2, e.wrapped, chamfer1_side_9[0].wrapped)  # the first distance lies on this face
    for e in chamfer1_edges_10:
        chamfer1.Add(CHAMFER1_SIZE, CHAMFER1_SIZE2, e.wrapped, chamfer1_side_10[0].wrapped)  # the first distance lies on this face
    for e in chamfer1_edges_11:
        chamfer1.Add(CHAMFER1_SIZE, CHAMFER1_SIZE2, e.wrapped, chamfer1_side_11[0].wrapped)  # the first distance lies on this face
    for e in chamfer1_edges_12:
        chamfer1.Add(CHAMFER1_SIZE, CHAMFER1_SIZE2, e.wrapped, chamfer1_side_12[0].wrapped)  # the first distance lies on this face
    add(Compound.cast(chamfer1.Shape()), mode=Mode.REPLACE)


solid = part.part
